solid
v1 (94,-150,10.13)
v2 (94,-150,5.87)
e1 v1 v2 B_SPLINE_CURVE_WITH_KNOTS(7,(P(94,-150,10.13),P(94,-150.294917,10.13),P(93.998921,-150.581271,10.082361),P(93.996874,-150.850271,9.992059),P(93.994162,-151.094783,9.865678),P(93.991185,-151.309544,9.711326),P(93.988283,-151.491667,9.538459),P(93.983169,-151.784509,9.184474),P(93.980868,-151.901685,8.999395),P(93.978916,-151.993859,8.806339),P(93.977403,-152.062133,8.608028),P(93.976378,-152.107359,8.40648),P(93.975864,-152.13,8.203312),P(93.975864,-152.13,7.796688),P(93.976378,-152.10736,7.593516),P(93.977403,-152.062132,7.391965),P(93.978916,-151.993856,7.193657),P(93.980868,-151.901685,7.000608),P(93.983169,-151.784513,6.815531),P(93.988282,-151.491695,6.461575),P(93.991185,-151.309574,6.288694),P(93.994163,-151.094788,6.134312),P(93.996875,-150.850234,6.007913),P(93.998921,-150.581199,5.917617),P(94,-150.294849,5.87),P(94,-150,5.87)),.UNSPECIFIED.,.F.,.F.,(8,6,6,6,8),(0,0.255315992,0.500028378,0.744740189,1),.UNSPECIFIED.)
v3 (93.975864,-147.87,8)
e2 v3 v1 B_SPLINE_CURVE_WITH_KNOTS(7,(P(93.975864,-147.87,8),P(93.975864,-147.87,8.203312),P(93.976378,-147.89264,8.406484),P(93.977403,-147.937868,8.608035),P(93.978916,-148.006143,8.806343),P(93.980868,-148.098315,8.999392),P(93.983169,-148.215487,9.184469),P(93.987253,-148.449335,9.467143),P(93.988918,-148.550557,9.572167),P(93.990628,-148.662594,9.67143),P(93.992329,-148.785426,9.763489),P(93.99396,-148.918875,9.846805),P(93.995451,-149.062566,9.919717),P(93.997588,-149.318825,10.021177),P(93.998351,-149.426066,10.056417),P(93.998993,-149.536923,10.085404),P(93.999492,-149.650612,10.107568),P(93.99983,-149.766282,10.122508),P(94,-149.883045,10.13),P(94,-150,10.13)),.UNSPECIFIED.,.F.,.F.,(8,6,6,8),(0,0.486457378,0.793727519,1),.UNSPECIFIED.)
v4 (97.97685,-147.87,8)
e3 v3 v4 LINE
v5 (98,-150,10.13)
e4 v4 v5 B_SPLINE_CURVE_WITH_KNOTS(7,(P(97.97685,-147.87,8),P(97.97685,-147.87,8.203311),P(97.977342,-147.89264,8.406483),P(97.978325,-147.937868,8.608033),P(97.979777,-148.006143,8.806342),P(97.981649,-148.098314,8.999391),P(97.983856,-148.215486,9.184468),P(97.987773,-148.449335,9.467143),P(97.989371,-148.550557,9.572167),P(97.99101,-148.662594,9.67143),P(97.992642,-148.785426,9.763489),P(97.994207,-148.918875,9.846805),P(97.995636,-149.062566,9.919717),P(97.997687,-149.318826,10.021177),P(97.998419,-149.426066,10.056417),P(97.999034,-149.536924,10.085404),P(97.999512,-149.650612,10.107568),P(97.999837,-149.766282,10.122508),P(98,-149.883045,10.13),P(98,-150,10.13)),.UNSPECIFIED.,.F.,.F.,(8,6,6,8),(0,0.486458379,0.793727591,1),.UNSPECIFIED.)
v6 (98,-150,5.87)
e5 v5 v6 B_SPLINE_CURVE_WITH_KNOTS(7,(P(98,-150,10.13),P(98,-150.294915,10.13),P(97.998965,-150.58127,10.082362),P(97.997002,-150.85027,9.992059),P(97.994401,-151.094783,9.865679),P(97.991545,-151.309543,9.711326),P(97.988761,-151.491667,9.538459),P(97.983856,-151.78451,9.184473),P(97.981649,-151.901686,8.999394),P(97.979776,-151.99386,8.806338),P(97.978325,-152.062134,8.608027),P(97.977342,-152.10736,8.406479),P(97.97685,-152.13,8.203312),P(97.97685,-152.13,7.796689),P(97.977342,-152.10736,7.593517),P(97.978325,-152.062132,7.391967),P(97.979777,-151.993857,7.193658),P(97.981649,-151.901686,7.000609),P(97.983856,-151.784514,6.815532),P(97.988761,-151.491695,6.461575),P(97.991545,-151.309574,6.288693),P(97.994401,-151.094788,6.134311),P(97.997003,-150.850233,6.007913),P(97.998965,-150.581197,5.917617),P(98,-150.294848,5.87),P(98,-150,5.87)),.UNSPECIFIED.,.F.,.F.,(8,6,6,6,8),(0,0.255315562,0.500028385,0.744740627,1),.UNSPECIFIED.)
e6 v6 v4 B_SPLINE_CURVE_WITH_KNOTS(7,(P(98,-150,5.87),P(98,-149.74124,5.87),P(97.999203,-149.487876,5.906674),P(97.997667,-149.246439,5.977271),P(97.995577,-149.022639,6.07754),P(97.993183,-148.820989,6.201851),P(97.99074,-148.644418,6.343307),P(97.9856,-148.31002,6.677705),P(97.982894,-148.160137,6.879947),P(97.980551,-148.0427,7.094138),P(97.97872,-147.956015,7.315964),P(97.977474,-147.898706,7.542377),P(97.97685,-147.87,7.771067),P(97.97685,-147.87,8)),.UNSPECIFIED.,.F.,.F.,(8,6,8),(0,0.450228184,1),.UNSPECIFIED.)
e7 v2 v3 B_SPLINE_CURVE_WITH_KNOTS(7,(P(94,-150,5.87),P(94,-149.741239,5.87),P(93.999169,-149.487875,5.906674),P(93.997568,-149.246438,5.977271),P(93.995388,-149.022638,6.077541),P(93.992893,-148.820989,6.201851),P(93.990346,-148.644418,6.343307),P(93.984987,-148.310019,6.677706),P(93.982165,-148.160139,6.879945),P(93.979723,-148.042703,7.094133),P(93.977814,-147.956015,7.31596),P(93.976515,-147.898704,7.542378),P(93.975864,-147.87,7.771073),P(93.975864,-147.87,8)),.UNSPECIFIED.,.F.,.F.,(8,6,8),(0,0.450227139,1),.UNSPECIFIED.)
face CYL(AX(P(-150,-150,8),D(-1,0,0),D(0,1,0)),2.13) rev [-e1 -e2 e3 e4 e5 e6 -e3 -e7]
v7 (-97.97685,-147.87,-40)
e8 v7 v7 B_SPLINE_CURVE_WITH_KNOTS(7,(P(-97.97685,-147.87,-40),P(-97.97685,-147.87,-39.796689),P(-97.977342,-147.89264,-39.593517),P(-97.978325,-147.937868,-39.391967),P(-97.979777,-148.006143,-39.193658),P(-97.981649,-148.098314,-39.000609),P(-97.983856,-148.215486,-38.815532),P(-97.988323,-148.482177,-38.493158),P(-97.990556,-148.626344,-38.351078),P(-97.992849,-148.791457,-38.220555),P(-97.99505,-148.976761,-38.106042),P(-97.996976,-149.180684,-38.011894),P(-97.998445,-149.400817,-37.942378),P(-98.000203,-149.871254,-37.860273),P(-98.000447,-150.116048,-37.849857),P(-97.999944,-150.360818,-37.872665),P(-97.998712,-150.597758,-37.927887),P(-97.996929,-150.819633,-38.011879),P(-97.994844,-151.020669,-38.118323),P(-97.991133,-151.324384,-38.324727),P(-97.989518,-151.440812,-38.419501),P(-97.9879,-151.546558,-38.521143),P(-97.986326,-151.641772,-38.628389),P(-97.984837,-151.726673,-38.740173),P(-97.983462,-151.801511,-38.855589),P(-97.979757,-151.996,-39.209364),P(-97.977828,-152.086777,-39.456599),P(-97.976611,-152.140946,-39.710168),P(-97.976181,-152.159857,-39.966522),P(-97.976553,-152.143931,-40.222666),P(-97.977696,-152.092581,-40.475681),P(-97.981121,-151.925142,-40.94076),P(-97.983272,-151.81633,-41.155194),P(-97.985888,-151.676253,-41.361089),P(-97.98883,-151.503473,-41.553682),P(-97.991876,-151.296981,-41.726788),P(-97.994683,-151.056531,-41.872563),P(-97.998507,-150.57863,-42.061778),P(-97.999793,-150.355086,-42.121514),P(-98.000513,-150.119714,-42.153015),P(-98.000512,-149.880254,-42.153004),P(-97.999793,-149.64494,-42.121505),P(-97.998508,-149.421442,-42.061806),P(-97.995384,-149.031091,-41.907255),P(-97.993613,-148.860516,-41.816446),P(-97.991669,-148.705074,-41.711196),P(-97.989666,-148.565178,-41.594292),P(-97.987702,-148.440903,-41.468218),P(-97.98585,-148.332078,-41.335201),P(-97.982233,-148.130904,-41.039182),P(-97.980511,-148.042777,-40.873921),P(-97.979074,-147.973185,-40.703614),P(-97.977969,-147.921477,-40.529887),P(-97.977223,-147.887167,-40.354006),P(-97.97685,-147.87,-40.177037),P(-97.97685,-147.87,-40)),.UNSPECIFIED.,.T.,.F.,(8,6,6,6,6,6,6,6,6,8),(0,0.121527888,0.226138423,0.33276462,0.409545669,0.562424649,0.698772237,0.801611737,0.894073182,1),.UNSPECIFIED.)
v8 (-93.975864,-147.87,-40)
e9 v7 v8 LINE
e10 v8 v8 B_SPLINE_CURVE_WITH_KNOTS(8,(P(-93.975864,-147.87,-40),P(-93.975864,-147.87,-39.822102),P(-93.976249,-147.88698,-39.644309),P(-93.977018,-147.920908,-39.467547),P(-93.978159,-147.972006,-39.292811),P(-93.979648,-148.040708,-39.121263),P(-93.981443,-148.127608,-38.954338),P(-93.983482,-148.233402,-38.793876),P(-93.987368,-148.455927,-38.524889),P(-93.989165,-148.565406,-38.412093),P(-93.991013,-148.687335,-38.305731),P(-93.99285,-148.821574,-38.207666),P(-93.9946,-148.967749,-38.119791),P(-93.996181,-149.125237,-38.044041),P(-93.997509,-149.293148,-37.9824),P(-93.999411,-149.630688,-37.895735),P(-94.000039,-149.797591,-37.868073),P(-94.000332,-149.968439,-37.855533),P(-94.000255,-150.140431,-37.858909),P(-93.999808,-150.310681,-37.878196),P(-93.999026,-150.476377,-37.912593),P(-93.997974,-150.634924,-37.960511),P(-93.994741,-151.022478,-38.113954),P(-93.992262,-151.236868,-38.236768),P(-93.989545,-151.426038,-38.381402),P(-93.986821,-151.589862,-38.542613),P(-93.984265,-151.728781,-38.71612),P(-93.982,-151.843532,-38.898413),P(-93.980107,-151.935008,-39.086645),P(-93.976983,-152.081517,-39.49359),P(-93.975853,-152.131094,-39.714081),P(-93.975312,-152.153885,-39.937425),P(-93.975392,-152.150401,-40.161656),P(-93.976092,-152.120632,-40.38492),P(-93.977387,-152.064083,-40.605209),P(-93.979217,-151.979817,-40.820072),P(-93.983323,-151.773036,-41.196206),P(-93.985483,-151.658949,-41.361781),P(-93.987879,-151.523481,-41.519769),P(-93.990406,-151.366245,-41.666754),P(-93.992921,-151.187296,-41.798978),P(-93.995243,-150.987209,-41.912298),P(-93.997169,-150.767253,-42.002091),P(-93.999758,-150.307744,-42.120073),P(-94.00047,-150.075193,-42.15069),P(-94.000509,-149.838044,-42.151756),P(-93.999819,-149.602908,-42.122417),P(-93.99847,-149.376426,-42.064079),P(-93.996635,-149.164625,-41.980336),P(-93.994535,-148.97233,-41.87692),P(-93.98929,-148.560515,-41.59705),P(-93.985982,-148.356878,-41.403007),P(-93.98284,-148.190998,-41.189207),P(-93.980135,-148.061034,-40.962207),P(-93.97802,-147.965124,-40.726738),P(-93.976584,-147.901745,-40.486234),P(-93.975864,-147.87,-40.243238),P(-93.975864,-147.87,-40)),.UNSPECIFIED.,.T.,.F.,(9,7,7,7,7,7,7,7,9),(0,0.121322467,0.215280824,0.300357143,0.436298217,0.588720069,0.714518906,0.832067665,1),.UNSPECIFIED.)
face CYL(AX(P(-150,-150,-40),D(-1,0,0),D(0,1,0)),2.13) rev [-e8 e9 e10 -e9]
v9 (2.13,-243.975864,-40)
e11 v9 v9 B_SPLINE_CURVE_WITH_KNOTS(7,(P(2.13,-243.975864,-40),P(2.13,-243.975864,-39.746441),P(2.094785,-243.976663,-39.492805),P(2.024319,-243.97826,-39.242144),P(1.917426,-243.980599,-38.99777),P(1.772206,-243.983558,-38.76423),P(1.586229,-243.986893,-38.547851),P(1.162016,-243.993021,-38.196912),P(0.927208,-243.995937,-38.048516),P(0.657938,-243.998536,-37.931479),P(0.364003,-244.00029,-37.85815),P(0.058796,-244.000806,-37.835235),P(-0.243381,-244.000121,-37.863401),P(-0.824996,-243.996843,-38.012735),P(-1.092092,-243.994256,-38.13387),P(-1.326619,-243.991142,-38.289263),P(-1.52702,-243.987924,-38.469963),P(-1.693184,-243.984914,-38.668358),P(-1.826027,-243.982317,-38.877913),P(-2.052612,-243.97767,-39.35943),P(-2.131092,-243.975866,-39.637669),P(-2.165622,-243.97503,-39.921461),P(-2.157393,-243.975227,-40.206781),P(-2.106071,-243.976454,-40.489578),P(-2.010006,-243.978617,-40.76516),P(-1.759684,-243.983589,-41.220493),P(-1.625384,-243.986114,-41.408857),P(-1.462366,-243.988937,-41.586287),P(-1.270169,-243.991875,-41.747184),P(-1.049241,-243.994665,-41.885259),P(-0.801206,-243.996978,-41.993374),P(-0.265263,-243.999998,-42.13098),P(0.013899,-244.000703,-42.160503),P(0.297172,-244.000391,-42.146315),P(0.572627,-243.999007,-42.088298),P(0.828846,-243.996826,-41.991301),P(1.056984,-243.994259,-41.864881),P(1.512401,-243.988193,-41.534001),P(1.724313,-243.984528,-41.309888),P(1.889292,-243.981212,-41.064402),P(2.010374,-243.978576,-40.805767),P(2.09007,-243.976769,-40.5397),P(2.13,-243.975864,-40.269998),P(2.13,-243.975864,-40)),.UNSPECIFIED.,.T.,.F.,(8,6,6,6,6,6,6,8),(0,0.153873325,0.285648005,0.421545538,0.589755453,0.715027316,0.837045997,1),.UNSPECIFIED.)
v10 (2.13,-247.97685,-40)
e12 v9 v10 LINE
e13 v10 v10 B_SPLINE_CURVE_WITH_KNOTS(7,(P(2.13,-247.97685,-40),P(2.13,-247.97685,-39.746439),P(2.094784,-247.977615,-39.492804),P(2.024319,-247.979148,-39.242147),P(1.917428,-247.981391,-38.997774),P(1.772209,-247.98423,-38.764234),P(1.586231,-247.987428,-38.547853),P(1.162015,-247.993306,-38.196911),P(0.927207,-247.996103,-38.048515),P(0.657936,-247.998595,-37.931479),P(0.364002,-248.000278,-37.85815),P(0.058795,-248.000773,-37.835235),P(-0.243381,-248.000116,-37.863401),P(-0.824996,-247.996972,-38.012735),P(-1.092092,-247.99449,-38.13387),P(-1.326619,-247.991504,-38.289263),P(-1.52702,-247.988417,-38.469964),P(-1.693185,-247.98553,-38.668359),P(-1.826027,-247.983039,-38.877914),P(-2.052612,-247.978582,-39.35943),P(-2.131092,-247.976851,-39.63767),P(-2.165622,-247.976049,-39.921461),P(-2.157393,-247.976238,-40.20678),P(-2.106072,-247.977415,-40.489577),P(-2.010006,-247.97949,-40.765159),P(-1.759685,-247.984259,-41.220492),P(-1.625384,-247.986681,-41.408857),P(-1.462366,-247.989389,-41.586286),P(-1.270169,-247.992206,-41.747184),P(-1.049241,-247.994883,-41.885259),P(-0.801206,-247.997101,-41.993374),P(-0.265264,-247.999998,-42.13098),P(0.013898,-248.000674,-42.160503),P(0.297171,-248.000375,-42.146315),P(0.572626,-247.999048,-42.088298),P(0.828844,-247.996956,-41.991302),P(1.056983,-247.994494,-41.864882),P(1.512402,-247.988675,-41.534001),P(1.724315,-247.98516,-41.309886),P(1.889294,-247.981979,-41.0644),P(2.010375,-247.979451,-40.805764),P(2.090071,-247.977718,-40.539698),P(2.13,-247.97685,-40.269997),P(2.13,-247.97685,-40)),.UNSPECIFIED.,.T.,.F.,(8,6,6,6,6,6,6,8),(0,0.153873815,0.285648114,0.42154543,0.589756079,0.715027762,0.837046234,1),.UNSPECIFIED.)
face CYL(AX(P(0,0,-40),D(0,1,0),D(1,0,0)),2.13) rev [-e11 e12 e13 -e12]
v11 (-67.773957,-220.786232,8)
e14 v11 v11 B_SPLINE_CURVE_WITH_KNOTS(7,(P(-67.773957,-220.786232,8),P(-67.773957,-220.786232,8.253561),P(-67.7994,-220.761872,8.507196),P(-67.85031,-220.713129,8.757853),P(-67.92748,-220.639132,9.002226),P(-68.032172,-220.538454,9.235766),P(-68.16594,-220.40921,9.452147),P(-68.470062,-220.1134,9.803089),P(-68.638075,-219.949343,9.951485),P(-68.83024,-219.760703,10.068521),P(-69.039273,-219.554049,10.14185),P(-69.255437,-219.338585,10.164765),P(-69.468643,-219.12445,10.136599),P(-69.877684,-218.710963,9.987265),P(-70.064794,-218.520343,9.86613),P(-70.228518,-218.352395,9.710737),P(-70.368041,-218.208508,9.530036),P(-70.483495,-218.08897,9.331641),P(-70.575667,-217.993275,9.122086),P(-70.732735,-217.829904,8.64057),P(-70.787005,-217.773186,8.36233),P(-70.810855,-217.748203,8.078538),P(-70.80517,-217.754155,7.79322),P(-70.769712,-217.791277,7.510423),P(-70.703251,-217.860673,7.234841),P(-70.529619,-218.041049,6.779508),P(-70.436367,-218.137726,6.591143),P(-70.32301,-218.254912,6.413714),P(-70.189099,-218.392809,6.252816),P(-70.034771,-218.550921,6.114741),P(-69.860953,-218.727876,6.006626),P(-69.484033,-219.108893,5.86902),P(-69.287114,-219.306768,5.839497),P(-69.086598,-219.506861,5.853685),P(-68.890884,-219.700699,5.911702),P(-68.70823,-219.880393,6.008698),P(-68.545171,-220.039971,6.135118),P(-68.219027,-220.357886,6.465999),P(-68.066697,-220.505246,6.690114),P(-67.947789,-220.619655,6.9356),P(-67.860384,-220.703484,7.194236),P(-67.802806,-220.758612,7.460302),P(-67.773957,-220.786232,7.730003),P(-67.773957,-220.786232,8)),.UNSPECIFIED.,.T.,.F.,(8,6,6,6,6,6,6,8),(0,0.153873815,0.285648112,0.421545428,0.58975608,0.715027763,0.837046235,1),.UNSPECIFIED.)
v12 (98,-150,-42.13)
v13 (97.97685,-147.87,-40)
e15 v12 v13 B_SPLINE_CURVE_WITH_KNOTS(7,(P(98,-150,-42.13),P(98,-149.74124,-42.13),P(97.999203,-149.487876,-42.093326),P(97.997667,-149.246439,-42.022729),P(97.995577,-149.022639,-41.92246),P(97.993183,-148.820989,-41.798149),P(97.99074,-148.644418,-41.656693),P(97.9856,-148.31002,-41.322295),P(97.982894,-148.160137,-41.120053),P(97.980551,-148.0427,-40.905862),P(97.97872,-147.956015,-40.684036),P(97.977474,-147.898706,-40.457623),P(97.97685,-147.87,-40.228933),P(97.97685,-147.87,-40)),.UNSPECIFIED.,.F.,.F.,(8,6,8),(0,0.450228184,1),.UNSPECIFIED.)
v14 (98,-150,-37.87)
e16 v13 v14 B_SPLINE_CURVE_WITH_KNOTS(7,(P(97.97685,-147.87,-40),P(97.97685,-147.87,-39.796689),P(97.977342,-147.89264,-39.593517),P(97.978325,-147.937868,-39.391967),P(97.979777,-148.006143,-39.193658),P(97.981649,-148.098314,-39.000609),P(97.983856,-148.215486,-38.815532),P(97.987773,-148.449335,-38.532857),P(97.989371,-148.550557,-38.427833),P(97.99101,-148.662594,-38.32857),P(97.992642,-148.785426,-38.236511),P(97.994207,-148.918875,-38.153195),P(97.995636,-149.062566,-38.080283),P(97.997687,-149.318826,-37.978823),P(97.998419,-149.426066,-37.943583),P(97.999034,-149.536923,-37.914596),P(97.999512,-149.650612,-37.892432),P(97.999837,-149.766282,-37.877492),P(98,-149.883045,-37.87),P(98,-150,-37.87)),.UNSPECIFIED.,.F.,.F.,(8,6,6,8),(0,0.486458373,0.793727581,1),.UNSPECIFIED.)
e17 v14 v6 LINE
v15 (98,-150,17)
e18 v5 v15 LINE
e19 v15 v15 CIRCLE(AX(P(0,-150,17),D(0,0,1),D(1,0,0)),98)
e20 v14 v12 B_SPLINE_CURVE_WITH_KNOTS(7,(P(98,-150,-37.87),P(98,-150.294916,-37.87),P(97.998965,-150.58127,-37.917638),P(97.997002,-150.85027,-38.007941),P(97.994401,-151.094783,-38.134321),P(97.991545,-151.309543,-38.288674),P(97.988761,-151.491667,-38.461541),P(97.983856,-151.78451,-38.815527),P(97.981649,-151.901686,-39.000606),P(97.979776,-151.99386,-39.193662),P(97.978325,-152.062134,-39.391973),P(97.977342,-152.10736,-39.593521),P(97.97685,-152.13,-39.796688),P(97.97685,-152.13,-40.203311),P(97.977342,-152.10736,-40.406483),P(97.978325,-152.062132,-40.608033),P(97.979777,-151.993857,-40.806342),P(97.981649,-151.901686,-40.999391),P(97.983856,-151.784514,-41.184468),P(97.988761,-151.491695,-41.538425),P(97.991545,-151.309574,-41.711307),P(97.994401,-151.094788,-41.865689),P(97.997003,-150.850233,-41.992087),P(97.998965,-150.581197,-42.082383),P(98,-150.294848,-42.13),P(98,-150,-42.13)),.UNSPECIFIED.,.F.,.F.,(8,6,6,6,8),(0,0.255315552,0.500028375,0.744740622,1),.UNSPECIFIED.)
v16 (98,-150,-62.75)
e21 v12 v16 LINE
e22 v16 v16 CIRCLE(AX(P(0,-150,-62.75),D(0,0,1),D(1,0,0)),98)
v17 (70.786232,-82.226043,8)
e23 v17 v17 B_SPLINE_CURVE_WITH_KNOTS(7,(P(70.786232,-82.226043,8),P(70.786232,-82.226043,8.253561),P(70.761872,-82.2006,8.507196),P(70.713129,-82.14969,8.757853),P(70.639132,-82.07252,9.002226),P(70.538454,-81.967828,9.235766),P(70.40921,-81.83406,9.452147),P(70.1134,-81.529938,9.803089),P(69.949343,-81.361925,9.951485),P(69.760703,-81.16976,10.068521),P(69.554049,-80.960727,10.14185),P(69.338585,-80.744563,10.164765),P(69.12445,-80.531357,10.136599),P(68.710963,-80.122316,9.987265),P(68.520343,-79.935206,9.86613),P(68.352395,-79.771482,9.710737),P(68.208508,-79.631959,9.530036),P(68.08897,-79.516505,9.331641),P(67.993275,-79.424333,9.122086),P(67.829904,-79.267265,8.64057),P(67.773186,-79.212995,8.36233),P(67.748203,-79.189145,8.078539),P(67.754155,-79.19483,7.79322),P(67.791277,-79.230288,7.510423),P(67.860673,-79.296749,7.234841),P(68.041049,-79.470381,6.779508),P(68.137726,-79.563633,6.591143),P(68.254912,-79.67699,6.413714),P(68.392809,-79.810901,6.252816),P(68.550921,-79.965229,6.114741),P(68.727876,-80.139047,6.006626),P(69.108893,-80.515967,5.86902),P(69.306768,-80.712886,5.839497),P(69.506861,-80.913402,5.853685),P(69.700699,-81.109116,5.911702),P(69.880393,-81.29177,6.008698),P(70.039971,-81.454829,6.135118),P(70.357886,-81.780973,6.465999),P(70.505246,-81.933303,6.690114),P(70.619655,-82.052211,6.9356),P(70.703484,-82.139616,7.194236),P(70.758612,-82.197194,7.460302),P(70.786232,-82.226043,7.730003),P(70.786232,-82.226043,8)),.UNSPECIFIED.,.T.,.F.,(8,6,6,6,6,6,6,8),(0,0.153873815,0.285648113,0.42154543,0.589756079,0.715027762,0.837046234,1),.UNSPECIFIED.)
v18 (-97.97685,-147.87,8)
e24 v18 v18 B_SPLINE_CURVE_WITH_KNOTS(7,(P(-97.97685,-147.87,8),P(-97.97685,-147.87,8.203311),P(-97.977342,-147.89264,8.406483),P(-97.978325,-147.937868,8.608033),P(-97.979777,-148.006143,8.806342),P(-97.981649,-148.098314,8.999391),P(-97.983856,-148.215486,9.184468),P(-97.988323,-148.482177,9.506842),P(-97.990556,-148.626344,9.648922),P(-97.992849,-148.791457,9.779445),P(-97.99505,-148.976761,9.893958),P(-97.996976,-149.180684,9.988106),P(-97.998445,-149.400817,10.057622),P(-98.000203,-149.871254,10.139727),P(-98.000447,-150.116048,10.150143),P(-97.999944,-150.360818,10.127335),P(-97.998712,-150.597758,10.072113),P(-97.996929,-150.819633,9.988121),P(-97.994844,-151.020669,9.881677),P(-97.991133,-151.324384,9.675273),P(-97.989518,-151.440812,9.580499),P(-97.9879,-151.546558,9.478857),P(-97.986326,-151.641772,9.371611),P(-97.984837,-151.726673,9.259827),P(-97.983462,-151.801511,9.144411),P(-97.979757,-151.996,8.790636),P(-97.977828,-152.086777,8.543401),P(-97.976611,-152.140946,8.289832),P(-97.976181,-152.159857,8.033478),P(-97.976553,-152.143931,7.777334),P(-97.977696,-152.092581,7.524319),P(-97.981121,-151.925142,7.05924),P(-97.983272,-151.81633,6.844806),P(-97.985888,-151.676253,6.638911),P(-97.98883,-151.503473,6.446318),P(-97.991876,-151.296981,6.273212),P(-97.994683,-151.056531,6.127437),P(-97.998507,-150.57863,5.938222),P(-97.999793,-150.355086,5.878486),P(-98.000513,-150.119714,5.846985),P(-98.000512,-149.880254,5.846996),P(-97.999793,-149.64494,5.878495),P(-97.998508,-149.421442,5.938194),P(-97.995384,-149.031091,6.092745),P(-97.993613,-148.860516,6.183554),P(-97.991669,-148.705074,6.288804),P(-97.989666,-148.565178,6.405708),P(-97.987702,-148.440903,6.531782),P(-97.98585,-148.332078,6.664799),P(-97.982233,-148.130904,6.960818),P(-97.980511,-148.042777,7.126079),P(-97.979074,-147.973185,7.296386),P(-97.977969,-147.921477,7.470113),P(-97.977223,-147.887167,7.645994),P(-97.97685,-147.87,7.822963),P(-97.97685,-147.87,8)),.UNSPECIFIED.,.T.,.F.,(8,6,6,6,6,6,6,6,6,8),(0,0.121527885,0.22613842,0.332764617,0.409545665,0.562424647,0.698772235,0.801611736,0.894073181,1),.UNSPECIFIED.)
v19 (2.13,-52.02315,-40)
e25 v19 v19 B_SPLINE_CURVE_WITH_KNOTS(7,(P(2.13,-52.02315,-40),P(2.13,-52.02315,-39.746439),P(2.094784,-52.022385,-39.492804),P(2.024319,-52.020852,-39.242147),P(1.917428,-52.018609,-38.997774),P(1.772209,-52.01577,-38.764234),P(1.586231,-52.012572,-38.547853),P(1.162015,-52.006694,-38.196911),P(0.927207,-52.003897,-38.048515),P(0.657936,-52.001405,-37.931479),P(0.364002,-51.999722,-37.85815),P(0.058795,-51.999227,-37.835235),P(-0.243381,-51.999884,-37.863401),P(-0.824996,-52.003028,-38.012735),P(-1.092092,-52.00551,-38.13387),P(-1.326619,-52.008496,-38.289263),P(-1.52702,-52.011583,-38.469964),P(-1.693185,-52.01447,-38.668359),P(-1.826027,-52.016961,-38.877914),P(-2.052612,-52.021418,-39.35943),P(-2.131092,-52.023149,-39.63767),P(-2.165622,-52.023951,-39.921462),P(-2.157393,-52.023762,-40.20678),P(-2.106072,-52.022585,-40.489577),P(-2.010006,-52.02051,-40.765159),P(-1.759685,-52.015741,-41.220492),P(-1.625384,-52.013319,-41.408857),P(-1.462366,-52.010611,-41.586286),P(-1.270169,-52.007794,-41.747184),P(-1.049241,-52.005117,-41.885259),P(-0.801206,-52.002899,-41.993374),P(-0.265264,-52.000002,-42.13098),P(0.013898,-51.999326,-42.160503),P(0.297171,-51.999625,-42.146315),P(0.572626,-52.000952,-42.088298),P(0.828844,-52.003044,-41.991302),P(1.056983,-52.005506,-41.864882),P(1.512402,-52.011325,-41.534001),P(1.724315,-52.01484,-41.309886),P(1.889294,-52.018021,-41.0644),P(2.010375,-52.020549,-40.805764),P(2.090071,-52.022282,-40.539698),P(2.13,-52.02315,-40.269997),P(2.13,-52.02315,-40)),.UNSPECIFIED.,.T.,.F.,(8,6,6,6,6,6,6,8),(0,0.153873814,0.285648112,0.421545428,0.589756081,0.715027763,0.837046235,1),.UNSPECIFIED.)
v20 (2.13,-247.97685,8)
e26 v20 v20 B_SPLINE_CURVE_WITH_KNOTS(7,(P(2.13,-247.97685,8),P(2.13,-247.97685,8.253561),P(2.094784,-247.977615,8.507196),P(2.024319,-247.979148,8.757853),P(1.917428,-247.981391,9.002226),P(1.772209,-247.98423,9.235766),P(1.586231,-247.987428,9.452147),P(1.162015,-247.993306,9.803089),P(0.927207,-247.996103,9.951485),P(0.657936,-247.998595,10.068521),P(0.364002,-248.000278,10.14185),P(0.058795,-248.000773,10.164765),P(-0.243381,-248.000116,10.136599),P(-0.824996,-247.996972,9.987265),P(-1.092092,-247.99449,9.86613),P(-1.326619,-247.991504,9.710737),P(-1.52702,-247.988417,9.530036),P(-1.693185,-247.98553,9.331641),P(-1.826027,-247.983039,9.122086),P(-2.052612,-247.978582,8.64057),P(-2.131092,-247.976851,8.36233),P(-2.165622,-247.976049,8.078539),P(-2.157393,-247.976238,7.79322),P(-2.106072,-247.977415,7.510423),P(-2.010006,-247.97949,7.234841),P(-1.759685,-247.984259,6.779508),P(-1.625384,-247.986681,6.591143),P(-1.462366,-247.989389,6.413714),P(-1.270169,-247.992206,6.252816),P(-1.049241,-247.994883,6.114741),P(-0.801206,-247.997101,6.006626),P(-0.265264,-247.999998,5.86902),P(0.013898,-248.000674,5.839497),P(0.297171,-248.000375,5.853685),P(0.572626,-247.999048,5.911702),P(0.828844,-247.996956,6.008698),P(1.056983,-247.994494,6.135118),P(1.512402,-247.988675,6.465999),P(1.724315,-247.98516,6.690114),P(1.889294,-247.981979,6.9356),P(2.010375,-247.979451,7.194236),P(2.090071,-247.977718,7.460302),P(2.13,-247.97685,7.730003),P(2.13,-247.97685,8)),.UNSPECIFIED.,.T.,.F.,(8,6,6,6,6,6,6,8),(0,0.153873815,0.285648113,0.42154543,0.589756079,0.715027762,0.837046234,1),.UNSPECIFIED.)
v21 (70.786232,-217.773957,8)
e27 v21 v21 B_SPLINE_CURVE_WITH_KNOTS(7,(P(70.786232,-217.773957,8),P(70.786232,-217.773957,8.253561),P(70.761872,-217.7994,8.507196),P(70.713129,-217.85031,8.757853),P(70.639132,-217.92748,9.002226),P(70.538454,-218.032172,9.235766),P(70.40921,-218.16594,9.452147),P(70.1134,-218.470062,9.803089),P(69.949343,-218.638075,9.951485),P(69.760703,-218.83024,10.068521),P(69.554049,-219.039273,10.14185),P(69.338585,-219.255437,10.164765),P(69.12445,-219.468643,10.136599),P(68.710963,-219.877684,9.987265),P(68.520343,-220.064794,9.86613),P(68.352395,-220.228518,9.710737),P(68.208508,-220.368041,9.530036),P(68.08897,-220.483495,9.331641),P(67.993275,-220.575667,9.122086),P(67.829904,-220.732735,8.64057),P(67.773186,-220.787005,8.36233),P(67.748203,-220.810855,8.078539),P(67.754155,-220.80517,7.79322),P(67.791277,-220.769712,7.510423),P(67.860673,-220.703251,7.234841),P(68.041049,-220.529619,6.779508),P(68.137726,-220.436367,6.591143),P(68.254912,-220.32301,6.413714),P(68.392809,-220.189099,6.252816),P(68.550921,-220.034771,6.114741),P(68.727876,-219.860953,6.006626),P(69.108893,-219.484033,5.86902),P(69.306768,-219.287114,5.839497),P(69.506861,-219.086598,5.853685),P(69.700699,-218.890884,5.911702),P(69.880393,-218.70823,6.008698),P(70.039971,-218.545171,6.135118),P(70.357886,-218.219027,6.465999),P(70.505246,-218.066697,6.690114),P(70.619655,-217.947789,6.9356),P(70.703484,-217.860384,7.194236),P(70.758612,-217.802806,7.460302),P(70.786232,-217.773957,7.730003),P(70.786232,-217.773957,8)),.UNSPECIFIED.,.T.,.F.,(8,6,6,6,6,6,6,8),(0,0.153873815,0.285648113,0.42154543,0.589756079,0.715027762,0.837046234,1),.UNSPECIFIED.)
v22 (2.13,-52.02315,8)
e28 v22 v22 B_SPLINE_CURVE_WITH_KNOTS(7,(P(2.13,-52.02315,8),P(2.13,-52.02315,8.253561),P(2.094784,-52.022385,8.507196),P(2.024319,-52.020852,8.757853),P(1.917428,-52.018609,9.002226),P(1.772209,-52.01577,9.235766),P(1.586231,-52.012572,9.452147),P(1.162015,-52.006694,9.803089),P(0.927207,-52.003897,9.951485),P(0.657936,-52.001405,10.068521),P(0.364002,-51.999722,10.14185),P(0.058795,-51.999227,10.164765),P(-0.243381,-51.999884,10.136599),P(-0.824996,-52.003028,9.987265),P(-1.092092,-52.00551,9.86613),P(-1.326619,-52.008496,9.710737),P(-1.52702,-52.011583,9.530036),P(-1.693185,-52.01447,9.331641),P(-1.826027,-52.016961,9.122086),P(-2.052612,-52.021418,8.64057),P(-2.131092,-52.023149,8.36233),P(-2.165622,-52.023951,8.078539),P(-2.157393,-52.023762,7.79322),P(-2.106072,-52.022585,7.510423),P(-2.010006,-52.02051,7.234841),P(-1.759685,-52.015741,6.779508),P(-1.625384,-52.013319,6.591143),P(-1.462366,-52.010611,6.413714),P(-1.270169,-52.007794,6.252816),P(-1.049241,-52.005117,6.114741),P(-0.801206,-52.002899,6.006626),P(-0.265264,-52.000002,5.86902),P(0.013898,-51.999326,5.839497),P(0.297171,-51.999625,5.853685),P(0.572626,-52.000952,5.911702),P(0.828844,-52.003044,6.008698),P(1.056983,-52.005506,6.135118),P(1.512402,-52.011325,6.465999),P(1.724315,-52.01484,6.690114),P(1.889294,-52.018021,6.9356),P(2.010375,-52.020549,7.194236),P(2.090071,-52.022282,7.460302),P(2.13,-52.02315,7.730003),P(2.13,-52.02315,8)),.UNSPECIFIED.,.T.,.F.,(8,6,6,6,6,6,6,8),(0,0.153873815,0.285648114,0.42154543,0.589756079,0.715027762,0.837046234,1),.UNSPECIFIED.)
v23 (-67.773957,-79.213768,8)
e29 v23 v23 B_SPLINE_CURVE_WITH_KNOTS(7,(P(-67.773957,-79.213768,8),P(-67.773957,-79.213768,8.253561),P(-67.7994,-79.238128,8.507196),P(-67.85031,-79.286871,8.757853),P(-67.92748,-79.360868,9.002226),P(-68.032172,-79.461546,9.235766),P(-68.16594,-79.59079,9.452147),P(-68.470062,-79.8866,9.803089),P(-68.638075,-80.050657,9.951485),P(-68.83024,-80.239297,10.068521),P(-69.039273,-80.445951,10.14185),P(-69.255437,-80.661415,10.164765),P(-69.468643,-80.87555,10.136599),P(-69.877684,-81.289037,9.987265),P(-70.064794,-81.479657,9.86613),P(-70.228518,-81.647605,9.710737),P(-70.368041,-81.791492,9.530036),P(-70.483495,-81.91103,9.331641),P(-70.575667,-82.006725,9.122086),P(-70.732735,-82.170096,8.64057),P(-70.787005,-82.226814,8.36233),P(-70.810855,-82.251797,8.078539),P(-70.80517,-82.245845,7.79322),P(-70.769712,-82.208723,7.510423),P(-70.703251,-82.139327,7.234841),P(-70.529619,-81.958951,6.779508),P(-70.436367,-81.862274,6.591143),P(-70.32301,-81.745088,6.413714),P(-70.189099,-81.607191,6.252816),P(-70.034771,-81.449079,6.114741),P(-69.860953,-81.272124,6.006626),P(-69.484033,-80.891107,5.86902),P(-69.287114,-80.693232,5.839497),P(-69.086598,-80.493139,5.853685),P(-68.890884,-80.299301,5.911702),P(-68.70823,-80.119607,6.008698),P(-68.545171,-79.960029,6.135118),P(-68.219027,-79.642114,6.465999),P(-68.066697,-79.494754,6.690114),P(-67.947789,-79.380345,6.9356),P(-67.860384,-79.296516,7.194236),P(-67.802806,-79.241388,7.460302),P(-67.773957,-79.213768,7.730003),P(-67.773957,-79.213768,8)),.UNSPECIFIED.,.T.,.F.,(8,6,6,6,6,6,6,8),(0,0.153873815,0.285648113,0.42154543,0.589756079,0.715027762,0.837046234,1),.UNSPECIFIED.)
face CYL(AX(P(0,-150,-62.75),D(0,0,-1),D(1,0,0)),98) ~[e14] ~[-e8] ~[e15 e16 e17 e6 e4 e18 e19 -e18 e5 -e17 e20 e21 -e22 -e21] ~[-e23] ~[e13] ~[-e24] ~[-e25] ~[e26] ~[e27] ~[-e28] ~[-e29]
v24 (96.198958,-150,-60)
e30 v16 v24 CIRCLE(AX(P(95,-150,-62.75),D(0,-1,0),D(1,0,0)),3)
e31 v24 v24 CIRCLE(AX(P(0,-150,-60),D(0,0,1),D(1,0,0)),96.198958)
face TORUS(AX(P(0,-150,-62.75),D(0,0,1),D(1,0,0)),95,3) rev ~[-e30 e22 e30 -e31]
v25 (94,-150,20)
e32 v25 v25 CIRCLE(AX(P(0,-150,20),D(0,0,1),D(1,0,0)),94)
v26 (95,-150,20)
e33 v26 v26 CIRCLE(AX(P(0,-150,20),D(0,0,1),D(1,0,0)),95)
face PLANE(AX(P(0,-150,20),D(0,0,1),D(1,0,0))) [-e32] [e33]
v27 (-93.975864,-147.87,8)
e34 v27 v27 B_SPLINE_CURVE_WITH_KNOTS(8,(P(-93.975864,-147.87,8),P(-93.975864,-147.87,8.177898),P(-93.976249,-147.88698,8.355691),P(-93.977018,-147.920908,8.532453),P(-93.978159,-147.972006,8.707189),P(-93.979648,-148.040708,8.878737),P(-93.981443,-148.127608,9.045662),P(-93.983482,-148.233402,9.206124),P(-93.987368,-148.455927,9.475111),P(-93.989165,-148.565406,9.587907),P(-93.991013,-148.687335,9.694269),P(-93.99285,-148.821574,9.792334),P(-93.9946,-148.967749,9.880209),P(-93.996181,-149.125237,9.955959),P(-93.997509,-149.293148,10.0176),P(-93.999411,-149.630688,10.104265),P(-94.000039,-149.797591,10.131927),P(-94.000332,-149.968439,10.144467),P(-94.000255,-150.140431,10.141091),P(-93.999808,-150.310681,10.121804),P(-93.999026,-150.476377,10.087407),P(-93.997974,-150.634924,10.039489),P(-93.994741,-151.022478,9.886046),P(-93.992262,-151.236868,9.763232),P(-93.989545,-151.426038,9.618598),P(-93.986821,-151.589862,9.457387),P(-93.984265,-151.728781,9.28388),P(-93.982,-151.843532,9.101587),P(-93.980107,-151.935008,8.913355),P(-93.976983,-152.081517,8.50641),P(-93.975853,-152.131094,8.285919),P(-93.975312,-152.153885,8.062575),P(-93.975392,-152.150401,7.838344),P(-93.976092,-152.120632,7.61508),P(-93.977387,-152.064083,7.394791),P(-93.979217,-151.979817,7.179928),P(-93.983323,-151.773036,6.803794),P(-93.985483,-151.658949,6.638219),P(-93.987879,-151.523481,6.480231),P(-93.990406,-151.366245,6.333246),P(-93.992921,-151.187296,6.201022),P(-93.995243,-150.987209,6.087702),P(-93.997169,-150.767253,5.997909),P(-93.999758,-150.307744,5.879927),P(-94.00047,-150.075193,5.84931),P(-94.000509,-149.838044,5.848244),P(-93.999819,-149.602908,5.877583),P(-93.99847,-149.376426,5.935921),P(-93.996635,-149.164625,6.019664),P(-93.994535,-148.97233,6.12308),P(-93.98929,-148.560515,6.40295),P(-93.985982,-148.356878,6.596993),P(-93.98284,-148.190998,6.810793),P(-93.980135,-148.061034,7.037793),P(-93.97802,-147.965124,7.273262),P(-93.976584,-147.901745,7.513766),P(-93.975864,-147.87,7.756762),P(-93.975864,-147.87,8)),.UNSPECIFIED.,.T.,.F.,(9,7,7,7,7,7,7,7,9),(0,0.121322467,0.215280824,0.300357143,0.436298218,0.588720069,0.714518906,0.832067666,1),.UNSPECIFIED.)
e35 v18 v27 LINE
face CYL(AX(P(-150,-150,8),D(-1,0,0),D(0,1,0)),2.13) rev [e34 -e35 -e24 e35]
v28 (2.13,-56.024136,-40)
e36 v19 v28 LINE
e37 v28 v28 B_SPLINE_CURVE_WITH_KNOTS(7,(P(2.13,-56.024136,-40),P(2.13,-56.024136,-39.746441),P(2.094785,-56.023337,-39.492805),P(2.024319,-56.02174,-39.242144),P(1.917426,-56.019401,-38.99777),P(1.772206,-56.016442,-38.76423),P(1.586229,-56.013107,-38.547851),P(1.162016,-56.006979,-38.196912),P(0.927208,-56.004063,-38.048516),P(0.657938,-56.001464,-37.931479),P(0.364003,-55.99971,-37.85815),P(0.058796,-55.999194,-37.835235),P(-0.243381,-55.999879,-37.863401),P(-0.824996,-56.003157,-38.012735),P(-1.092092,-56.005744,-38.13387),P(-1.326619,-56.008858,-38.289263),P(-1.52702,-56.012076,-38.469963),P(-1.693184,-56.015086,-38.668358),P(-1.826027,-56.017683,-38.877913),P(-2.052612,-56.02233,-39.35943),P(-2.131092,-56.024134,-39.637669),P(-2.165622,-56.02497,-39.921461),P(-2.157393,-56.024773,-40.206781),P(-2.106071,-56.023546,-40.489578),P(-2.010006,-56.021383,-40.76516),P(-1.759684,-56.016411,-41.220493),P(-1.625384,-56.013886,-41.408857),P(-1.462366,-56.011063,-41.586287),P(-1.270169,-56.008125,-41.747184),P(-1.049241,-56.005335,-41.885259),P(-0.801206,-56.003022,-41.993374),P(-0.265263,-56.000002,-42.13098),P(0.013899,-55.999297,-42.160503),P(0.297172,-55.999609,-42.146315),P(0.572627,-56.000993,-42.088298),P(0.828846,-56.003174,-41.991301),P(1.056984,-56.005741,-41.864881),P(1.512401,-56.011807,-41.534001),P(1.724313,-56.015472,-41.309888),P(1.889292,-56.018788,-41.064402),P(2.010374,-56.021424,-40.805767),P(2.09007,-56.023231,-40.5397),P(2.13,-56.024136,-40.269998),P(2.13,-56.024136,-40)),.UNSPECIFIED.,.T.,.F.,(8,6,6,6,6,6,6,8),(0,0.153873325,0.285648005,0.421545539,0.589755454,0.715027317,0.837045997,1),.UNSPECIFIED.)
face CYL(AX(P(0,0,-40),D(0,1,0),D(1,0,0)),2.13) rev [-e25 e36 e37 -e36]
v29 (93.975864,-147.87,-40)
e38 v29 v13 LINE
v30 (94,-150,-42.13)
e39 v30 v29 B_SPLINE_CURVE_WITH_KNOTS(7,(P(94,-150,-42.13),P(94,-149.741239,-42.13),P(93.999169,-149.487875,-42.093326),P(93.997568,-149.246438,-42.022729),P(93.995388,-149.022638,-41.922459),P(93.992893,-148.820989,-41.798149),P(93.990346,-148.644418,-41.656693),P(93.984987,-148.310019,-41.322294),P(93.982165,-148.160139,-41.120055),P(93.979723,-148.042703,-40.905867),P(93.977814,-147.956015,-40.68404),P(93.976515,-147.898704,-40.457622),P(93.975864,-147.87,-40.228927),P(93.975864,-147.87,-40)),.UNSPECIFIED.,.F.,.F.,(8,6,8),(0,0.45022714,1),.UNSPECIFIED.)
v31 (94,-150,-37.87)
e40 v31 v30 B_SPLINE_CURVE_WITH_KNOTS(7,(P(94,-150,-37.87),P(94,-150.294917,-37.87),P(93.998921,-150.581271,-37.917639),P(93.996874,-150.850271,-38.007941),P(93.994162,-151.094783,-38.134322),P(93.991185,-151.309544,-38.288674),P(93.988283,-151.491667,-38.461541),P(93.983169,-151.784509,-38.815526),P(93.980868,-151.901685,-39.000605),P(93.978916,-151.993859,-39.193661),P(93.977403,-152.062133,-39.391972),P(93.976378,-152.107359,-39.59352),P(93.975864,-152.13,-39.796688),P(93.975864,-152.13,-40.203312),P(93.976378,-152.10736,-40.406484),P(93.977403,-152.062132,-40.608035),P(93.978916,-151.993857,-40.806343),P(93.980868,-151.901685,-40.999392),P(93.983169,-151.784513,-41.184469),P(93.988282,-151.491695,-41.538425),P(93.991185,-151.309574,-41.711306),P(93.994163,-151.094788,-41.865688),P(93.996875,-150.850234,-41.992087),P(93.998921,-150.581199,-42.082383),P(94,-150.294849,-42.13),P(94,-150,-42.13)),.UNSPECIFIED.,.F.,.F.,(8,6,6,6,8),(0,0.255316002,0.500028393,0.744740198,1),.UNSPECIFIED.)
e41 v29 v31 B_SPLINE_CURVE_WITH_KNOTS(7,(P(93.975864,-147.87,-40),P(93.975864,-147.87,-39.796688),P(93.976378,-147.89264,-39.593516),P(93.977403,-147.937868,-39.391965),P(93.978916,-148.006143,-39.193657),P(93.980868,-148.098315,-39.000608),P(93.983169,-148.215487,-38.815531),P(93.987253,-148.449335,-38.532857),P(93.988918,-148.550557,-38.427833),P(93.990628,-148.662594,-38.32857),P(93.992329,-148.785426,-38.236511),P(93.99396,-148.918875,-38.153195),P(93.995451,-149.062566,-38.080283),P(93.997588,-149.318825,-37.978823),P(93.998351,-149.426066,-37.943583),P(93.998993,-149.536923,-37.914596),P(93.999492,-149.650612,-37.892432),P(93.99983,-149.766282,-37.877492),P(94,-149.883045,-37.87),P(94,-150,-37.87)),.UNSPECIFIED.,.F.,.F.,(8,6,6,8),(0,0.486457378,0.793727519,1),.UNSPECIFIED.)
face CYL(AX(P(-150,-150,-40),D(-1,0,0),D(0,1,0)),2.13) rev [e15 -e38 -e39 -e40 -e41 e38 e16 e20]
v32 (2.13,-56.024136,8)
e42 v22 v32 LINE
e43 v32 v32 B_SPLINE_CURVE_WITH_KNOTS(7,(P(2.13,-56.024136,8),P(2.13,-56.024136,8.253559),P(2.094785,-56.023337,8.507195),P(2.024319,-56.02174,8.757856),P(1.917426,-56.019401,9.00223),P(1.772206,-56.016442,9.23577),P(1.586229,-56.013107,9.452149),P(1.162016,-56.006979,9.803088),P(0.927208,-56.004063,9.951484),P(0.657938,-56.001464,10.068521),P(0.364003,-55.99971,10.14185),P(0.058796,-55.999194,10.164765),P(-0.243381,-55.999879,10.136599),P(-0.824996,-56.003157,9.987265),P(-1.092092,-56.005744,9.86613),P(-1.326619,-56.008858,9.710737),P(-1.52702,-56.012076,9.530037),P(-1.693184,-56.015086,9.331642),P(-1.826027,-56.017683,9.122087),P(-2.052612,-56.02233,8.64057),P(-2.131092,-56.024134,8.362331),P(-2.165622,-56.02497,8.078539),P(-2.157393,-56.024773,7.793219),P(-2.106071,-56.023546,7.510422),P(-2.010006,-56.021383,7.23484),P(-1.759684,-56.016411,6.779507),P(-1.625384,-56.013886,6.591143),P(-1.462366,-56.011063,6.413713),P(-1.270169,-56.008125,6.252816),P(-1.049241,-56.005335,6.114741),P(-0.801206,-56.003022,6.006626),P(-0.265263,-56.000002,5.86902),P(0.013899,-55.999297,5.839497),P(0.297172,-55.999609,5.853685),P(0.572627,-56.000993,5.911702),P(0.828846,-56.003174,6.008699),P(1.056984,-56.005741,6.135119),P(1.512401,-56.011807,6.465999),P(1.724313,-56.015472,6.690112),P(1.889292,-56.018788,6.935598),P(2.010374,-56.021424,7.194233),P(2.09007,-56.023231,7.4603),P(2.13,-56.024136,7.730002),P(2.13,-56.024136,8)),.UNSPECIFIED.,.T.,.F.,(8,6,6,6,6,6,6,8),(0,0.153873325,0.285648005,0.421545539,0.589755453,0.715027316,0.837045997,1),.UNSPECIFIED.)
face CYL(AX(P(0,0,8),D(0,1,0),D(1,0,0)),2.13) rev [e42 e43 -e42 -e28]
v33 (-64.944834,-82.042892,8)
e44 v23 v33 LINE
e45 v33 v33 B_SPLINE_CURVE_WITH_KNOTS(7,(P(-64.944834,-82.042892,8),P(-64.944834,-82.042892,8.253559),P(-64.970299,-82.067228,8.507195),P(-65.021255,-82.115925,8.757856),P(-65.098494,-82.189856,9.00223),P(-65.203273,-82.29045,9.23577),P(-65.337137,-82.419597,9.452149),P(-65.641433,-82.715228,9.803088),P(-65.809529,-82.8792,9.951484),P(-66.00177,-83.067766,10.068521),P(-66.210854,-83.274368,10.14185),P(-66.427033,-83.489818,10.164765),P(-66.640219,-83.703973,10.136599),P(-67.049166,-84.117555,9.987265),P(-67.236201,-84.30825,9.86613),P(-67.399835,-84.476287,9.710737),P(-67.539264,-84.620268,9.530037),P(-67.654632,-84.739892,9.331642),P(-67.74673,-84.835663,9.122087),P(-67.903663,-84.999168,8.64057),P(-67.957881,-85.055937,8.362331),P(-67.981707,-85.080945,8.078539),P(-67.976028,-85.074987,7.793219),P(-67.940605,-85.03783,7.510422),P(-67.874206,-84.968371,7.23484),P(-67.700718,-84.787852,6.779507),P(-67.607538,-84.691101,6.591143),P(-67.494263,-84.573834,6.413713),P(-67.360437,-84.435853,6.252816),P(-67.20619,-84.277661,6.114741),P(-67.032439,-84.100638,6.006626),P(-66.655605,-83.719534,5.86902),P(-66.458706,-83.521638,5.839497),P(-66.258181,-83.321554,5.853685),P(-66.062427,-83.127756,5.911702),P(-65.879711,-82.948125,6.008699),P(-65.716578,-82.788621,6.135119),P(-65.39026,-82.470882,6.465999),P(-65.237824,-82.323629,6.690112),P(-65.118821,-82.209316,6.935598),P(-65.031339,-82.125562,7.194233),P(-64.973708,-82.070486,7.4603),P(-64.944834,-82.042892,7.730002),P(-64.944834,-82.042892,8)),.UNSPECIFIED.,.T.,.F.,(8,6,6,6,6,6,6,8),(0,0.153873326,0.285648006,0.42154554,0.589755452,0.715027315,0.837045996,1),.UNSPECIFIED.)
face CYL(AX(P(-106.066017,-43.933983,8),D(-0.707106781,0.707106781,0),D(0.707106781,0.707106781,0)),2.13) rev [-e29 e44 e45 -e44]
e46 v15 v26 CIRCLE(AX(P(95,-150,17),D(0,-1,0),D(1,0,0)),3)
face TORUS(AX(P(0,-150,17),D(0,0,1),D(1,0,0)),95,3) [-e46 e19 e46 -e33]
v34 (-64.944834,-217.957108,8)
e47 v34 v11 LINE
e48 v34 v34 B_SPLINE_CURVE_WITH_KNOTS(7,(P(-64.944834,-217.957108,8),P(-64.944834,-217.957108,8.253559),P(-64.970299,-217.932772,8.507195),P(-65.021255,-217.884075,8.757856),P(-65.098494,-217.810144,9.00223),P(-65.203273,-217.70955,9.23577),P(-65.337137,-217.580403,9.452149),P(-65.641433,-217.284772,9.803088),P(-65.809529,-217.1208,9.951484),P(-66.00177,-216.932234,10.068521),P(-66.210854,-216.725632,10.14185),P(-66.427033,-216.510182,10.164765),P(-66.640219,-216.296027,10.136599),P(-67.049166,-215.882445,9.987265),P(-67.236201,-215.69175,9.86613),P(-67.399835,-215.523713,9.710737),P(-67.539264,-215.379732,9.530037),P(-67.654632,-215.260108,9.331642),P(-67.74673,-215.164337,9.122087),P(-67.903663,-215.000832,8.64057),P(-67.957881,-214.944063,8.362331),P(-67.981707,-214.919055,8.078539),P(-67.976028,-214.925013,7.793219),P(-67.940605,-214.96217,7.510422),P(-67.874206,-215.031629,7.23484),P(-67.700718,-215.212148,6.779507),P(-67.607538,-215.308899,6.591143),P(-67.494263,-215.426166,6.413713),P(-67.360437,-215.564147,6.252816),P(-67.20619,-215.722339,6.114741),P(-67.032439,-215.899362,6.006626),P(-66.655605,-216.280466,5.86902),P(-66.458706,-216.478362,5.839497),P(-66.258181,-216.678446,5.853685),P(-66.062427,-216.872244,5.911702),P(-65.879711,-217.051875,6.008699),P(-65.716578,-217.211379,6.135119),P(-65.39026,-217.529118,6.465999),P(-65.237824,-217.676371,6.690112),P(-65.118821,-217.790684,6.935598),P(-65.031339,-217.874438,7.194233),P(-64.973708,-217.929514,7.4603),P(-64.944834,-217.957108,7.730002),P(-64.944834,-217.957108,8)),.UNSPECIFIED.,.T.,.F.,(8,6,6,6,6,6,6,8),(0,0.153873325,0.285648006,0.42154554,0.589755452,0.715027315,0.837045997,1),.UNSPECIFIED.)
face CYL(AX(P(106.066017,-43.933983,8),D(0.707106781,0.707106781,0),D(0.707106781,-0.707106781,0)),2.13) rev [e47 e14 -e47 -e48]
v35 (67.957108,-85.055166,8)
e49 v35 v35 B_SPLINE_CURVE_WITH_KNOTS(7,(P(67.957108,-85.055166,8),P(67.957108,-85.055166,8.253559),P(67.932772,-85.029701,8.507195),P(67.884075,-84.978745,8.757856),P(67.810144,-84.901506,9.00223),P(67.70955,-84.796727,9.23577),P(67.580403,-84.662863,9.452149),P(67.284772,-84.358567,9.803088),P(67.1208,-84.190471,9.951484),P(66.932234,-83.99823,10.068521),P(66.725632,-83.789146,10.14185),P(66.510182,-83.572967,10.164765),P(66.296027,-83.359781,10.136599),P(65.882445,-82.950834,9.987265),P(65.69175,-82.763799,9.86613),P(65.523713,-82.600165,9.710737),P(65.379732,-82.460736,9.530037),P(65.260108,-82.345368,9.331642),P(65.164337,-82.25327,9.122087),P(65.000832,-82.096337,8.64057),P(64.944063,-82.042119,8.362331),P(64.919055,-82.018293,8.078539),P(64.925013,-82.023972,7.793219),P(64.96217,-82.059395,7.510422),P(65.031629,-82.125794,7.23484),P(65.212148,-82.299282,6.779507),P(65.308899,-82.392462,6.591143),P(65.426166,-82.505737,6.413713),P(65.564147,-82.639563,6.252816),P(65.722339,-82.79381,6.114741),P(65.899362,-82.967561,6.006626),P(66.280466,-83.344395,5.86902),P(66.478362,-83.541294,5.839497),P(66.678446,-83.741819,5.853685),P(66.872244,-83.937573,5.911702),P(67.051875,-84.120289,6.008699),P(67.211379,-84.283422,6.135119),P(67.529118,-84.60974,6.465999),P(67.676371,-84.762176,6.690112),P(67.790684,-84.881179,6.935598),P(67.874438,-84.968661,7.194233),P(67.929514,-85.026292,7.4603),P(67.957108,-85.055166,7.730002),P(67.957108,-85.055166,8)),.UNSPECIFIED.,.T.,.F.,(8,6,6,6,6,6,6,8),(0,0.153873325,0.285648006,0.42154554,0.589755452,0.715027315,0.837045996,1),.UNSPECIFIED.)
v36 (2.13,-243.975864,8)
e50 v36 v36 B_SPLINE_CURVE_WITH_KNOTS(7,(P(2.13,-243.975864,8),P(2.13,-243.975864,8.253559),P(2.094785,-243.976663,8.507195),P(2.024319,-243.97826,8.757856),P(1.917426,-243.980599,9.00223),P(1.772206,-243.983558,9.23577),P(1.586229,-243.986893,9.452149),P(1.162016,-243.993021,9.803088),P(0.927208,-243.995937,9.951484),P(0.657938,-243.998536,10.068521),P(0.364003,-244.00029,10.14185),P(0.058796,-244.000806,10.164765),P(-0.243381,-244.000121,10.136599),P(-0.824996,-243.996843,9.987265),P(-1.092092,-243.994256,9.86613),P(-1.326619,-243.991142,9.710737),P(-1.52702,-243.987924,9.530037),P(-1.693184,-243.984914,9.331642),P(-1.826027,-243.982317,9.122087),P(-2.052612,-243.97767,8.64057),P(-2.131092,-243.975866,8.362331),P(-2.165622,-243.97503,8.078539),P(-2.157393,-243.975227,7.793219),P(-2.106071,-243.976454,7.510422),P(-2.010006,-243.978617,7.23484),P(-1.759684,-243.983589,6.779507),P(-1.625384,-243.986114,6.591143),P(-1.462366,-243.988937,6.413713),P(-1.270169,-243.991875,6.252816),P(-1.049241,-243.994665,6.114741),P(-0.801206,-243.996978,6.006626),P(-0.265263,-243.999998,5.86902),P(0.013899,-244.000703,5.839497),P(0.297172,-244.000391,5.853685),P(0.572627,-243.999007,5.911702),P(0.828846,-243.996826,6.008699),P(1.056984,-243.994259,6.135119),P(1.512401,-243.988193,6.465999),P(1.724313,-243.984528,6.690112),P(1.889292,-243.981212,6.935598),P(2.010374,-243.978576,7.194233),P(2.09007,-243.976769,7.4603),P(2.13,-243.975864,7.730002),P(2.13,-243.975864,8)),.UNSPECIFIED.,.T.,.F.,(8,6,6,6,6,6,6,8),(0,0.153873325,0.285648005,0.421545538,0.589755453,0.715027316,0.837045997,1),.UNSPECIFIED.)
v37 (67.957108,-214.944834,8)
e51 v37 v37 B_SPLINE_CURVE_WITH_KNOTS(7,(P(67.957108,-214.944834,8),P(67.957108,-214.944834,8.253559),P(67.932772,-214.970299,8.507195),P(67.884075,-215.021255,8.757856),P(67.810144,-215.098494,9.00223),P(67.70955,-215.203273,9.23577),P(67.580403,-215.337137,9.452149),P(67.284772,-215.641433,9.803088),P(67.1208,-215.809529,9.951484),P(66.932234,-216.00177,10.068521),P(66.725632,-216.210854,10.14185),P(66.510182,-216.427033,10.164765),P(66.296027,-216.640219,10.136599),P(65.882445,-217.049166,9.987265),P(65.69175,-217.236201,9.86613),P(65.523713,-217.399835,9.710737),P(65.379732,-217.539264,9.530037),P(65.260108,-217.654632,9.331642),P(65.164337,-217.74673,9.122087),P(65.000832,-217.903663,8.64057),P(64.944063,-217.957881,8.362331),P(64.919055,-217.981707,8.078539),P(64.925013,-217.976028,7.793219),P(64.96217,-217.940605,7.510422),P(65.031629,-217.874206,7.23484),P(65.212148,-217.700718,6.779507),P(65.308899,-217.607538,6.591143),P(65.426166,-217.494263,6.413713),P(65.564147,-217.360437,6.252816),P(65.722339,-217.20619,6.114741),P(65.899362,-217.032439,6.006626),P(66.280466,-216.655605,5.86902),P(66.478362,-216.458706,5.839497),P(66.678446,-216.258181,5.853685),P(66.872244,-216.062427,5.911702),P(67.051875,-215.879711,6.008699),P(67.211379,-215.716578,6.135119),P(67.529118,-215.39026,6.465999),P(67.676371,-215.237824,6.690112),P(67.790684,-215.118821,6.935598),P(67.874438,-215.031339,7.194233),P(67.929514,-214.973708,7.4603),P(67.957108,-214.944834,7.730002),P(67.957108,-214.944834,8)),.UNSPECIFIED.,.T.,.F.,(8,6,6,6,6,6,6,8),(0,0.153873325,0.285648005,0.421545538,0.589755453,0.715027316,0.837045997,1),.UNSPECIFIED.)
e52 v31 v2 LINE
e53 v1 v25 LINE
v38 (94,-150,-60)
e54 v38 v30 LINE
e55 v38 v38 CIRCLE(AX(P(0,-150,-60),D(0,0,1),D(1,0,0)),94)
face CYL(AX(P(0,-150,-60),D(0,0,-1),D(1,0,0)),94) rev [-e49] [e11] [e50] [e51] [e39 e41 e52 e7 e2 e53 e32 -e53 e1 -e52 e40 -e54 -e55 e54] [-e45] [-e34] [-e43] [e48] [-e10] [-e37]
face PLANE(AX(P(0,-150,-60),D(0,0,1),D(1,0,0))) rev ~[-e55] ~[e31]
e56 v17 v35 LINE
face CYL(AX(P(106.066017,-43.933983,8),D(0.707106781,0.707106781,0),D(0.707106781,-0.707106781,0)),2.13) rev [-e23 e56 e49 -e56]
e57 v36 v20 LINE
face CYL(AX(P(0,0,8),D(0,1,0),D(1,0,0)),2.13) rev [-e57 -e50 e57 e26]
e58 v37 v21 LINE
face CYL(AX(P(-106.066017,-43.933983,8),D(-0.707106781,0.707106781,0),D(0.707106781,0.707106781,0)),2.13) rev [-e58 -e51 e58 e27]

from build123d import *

# Parameters (mm, degrees)
SKETCH051_R                 = 2.8
EXTRUDE033_DEPTH            = 20
CYLINDER153_R               = 2.13
CYLINDER153_DEPTH           = 300
CYLINDER154_R               = 2.13
CYLINDER154_DEPTH           = 300
TUBE008_R                   = 98
TUBE008_R_2                 = 94
TUBE008_DEPTH               = 65
SKETCH050_R                 = 98
SKETCH050_R_2               = 76
EXTRUDE032_DEPTH            = 5
FILLET005_R                 = 3
TUBE007_R                   = 98
TUBE007_R_2                 = 95
TUBE007_DEPTH               = 3
CYLINDER150_R               = 2.13
CYLINDER150_DEPTH           = 300
CYLINDER150_ROLL_ANGLE      = 90
CYLINDER150_PLACEMENT_ANGLE = 45
CYLINDER149_R               = 2.13
CYLINDER149_DEPTH           = 300
CYLINDER149_ROLL_ANGLE      = 90
CYLINDER149_PLACEMENT_ANGLE = -45
CYLINDER147_R               = 2.13
CYLINDER147_DEPTH           = 300
CYLINDER148_R               = 2.13
CYLINDER148_DEPTH           = 300
CYLINDER139_R               = 2.13
CYLINDER139_DEPTH           = 300
CYLINDER140_R               = 2.13
CYLINDER140_DEPTH           = 300
TUBE002_R                   = 98
TUBE002_R_2                 = 94
TUBE002_DEPTH               = 80
FILLET006_R                 = 3


with BuildPart() as m4heatsetvercuts005:
    # Sketch051 → Extrude033 (new body)
    with BuildSketch(Plane.XY):
        with Locations((0, -68)):
            Circle(SKETCH051_R)
        with Locations((82, -150)):
            Circle(SKETCH051_R)
        with Locations((0, -232)):
            Circle(SKETCH051_R)
        with Locations((-82, -150)):
            Circle(SKETCH051_R)
    extrude(amount=EXTRUDE033_DEPTH)


with BuildPart() as m4heatsetvercuts005_1:
    # Extrude033 placement: moved
    add(m4heatsetvercuts005.part.moved(Location((0, 0, -193))))


with BuildPart() as cylinder153:
    # Cylinder153 → Cylinder153 (new body)
    with BuildSketch(Plane(origin=(0, 0, 90), x_dir=(1, 0, 0), z_dir=(0, -1, 0))):
        Circle(CYLINDER153_R)
    extrude(amount=CYLINDER153_DEPTH)


with BuildPart() as m4cuts016:
    # Cylinder154 → Cylinder154 (new body)
    with BuildSketch(Plane(origin=(-150, -150, 90), x_dir=(0, 1, 0), z_dir=(1, 0, 0))):
        Circle(CYLINDER154_R)
    extrude(amount=CYLINDER154_DEPTH)

    # Fusion099: union Cylinder153
    add(cylinder153.part)


with BuildPart() as m4cuts016_1:
    # Fusion099 placement: moved
    add(m4cuts016.part.moved(Location((0, 0, -321))))


with BuildPart() as tube008:
    # Tube008 → Tube008 (new body)
    with BuildSketch(Plane(origin=(0, -150, -125), x_dir=(1, 0, 0), z_dir=(0, 0, 1))):
        Circle(TUBE008_R)
        Circle(TUBE008_R_2, mode=Mode.SUBTRACT)
    extrude(amount=TUBE008_DEPTH)


with BuildPart() as level5s003:
    # Sketch050 → Extrude032 (new body)
    with BuildSketch(Plane.XY):
        with Locations((0, -150)):
            Circle(SKETCH050_R)
        with Locations((0, -150)):
            Circle(SKETCH050_R_2, mode=Mode.SUBTRACT)
    extrude(amount=EXTRUDE032_DEPTH)


with BuildPart() as level5s003_1:
    # Extrude032 placement: moved
    add(level5s003.part.moved(Location((0, 0, -65))))

    # Fusion098: union Tube008
    add(tube008.part)


with BuildPart() as level5s003_2:
    # Fusion098 placement: moved
    add(level5s003_1.part.moved(Location((0, 0, -125))))

    # Cut050: cut m4Cuts016
    add(m4cuts016_1.part, mode=Mode.SUBTRACT)

    # Cut051: cut m4HeatSetVerCuts005
    add(m4heatsetvercuts005_1.part, mode=Mode.SUBTRACT)

    # Fillet005
    fillet005_edges = [level5s003_2.edges().sort_by_distance(p)[0] for p in [
        (-98, -150, -185),
        (-98, -150, -250),
        (-94, -150, -190),
    ]]
    fillet(fillet005_edges, radius=FILLET005_R)


with BuildPart() as cutaddon001:
    # Tube007 → Tube007 (new body)
    with BuildSketch(Plane(origin=(0, -150, -188), x_dir=(1, 0, 0), z_dir=(0, 0, 1))):
        Circle(TUBE007_R)
        Circle(TUBE007_R_2, mode=Mode.SUBTRACT)
    extrude(amount=TUBE007_DEPTH)

    # Cut052: cut level5s003
    add(level5s003_2.part, mode=Mode.SUBTRACT)


with BuildPart() as cutaddon001_1:
    # Cut052 placement: moved
    add(cutaddon001.part.moved(Location((0, 0, 125.25))))


with BuildPart() as cylinder150:
    # Cylinder150 → Cylinder150 (new body)
    with BuildSketch(Plane.XY):
        Circle(CYLINDER150_R)
    extrude(amount=CYLINDER150_DEPTH)


with BuildPart() as cylinder150_1:
    # Cylinder150 roll: moved
    add(cylinder150.part.rotate(Axis((0, 0, 0), (1, 0, 0)), CYLINDER150_ROLL_ANGLE))


with BuildPart() as cylinder150_2:
    # Cylinder150 placement: moved
    add(cylinder150_1.part.moved(Location((-106.066017, -43.933983, 90))).rotate(Axis((-106.066017, -43.933983, 90), (0, 0, 1)), CYLINDER150_PLACEMENT_ANGLE))


with BuildPart() as m4cuts013:
    # Cylinder149 → Cylinder149 (new body)
    with BuildSketch(Plane.XY):
        Circle(CYLINDER149_R)
    extrude(amount=CYLINDER149_DEPTH)


with BuildPart() as m4cuts013_1:
    # Cylinder149 roll: moved
    add(m4cuts013.part.rotate(Axis((0, 0, 0), (1, 0, 0)), CYLINDER149_ROLL_ANGLE))


with BuildPart() as m4cuts013_2:
    # Cylinder149 placement: moved
    add(m4cuts013_1.part.moved(Location((106.066017, -43.933983, 90))).rotate(Axis((106.066017, -43.933983, 90), (0, 0, 1)), CYLINDER149_PLACEMENT_ANGLE))

    # Fusion093: union Cylinder150
    add(cylinder150_2.part)


with BuildPart() as m4cuts013_3:
    # Fusion093 placement: moved
    add(m4cuts013_2.part.moved(Location((0, 0, -82))))


with BuildPart() as cylinder147:
    # Cylinder147 → Cylinder147 (new body)
    with BuildSketch(Plane(origin=(0, 0, 90), x_dir=(1, 0, 0), z_dir=(0, -1, 0))):
        Circle(CYLINDER147_R)
    extrude(amount=CYLINDER147_DEPTH)


with BuildPart() as m4cuts014:
    # Cylinder148 → Cylinder148 (new body)
    with BuildSketch(Plane(origin=(-150, -150, 90), x_dir=(0, 1, 0), z_dir=(1, 0, 0))):
        Circle(CYLINDER148_R)
    extrude(amount=CYLINDER148_DEPTH)

    # Fusion092: union Cylinder147
    add(cylinder147.part)


with BuildPart() as m4cuts014_1:
    # Fusion092 placement: moved
    add(m4cuts014.part.moved(Location((0, 0, -82))))

    # Fusion094: union m4Cuts013
    add(m4cuts013_3.part)


with BuildPart() as cylinder139:
    # Cylinder139 → Cylinder139 (new body)
    with BuildSketch(Plane(origin=(0, 0, 90), x_dir=(1, 0, 0), z_dir=(0, -1, 0))):
        Circle(CYLINDER139_R)
    extrude(amount=CYLINDER139_DEPTH)


with BuildPart() as m4cuts011:
    # Cylinder140 → Cylinder140 (new body)
    with BuildSketch(Plane(origin=(-150, -150, 90), x_dir=(0, 1, 0), z_dir=(1, 0, 0))):
        Circle(CYLINDER140_R)
    extrude(amount=CYLINDER140_DEPTH)

    # Fusion088: union Cylinder139
    add(cylinder139.part)


with BuildPart() as m4cuts011_1:
    # Fusion088 placement: moved
    add(m4cuts011.part.moved(Location((0, 0, -130))))


with BuildPart() as level003to2s:
    # Tube002 → Tube002 (new body)
    with BuildSketch(Plane(origin=(0, -150, -60), x_dir=(1, 0, 0), z_dir=(0, 0, 1))):
        Circle(TUBE002_R)
        Circle(TUBE002_R_2, mode=Mode.SUBTRACT)
    extrude(amount=TUBE002_DEPTH)

    # Cut044: cut m4Cuts011
    add(m4cuts011_1.part, mode=Mode.SUBTRACT)

    # Cut046: cut m4Cuts014
    add(m4cuts014_1.part, mode=Mode.SUBTRACT)

    # Fusion100: union cutAddOn001
    add(cutaddon001_1.part)

    # Fillet006
    fillet006_edges = [level003to2s.edges().sort_by_distance(p)[0] for p in [
        (-98, -150, 20),
    ]]
    fillet(fillet006_edges, radius=FILLET006_R)


solid = level003to2s.part
